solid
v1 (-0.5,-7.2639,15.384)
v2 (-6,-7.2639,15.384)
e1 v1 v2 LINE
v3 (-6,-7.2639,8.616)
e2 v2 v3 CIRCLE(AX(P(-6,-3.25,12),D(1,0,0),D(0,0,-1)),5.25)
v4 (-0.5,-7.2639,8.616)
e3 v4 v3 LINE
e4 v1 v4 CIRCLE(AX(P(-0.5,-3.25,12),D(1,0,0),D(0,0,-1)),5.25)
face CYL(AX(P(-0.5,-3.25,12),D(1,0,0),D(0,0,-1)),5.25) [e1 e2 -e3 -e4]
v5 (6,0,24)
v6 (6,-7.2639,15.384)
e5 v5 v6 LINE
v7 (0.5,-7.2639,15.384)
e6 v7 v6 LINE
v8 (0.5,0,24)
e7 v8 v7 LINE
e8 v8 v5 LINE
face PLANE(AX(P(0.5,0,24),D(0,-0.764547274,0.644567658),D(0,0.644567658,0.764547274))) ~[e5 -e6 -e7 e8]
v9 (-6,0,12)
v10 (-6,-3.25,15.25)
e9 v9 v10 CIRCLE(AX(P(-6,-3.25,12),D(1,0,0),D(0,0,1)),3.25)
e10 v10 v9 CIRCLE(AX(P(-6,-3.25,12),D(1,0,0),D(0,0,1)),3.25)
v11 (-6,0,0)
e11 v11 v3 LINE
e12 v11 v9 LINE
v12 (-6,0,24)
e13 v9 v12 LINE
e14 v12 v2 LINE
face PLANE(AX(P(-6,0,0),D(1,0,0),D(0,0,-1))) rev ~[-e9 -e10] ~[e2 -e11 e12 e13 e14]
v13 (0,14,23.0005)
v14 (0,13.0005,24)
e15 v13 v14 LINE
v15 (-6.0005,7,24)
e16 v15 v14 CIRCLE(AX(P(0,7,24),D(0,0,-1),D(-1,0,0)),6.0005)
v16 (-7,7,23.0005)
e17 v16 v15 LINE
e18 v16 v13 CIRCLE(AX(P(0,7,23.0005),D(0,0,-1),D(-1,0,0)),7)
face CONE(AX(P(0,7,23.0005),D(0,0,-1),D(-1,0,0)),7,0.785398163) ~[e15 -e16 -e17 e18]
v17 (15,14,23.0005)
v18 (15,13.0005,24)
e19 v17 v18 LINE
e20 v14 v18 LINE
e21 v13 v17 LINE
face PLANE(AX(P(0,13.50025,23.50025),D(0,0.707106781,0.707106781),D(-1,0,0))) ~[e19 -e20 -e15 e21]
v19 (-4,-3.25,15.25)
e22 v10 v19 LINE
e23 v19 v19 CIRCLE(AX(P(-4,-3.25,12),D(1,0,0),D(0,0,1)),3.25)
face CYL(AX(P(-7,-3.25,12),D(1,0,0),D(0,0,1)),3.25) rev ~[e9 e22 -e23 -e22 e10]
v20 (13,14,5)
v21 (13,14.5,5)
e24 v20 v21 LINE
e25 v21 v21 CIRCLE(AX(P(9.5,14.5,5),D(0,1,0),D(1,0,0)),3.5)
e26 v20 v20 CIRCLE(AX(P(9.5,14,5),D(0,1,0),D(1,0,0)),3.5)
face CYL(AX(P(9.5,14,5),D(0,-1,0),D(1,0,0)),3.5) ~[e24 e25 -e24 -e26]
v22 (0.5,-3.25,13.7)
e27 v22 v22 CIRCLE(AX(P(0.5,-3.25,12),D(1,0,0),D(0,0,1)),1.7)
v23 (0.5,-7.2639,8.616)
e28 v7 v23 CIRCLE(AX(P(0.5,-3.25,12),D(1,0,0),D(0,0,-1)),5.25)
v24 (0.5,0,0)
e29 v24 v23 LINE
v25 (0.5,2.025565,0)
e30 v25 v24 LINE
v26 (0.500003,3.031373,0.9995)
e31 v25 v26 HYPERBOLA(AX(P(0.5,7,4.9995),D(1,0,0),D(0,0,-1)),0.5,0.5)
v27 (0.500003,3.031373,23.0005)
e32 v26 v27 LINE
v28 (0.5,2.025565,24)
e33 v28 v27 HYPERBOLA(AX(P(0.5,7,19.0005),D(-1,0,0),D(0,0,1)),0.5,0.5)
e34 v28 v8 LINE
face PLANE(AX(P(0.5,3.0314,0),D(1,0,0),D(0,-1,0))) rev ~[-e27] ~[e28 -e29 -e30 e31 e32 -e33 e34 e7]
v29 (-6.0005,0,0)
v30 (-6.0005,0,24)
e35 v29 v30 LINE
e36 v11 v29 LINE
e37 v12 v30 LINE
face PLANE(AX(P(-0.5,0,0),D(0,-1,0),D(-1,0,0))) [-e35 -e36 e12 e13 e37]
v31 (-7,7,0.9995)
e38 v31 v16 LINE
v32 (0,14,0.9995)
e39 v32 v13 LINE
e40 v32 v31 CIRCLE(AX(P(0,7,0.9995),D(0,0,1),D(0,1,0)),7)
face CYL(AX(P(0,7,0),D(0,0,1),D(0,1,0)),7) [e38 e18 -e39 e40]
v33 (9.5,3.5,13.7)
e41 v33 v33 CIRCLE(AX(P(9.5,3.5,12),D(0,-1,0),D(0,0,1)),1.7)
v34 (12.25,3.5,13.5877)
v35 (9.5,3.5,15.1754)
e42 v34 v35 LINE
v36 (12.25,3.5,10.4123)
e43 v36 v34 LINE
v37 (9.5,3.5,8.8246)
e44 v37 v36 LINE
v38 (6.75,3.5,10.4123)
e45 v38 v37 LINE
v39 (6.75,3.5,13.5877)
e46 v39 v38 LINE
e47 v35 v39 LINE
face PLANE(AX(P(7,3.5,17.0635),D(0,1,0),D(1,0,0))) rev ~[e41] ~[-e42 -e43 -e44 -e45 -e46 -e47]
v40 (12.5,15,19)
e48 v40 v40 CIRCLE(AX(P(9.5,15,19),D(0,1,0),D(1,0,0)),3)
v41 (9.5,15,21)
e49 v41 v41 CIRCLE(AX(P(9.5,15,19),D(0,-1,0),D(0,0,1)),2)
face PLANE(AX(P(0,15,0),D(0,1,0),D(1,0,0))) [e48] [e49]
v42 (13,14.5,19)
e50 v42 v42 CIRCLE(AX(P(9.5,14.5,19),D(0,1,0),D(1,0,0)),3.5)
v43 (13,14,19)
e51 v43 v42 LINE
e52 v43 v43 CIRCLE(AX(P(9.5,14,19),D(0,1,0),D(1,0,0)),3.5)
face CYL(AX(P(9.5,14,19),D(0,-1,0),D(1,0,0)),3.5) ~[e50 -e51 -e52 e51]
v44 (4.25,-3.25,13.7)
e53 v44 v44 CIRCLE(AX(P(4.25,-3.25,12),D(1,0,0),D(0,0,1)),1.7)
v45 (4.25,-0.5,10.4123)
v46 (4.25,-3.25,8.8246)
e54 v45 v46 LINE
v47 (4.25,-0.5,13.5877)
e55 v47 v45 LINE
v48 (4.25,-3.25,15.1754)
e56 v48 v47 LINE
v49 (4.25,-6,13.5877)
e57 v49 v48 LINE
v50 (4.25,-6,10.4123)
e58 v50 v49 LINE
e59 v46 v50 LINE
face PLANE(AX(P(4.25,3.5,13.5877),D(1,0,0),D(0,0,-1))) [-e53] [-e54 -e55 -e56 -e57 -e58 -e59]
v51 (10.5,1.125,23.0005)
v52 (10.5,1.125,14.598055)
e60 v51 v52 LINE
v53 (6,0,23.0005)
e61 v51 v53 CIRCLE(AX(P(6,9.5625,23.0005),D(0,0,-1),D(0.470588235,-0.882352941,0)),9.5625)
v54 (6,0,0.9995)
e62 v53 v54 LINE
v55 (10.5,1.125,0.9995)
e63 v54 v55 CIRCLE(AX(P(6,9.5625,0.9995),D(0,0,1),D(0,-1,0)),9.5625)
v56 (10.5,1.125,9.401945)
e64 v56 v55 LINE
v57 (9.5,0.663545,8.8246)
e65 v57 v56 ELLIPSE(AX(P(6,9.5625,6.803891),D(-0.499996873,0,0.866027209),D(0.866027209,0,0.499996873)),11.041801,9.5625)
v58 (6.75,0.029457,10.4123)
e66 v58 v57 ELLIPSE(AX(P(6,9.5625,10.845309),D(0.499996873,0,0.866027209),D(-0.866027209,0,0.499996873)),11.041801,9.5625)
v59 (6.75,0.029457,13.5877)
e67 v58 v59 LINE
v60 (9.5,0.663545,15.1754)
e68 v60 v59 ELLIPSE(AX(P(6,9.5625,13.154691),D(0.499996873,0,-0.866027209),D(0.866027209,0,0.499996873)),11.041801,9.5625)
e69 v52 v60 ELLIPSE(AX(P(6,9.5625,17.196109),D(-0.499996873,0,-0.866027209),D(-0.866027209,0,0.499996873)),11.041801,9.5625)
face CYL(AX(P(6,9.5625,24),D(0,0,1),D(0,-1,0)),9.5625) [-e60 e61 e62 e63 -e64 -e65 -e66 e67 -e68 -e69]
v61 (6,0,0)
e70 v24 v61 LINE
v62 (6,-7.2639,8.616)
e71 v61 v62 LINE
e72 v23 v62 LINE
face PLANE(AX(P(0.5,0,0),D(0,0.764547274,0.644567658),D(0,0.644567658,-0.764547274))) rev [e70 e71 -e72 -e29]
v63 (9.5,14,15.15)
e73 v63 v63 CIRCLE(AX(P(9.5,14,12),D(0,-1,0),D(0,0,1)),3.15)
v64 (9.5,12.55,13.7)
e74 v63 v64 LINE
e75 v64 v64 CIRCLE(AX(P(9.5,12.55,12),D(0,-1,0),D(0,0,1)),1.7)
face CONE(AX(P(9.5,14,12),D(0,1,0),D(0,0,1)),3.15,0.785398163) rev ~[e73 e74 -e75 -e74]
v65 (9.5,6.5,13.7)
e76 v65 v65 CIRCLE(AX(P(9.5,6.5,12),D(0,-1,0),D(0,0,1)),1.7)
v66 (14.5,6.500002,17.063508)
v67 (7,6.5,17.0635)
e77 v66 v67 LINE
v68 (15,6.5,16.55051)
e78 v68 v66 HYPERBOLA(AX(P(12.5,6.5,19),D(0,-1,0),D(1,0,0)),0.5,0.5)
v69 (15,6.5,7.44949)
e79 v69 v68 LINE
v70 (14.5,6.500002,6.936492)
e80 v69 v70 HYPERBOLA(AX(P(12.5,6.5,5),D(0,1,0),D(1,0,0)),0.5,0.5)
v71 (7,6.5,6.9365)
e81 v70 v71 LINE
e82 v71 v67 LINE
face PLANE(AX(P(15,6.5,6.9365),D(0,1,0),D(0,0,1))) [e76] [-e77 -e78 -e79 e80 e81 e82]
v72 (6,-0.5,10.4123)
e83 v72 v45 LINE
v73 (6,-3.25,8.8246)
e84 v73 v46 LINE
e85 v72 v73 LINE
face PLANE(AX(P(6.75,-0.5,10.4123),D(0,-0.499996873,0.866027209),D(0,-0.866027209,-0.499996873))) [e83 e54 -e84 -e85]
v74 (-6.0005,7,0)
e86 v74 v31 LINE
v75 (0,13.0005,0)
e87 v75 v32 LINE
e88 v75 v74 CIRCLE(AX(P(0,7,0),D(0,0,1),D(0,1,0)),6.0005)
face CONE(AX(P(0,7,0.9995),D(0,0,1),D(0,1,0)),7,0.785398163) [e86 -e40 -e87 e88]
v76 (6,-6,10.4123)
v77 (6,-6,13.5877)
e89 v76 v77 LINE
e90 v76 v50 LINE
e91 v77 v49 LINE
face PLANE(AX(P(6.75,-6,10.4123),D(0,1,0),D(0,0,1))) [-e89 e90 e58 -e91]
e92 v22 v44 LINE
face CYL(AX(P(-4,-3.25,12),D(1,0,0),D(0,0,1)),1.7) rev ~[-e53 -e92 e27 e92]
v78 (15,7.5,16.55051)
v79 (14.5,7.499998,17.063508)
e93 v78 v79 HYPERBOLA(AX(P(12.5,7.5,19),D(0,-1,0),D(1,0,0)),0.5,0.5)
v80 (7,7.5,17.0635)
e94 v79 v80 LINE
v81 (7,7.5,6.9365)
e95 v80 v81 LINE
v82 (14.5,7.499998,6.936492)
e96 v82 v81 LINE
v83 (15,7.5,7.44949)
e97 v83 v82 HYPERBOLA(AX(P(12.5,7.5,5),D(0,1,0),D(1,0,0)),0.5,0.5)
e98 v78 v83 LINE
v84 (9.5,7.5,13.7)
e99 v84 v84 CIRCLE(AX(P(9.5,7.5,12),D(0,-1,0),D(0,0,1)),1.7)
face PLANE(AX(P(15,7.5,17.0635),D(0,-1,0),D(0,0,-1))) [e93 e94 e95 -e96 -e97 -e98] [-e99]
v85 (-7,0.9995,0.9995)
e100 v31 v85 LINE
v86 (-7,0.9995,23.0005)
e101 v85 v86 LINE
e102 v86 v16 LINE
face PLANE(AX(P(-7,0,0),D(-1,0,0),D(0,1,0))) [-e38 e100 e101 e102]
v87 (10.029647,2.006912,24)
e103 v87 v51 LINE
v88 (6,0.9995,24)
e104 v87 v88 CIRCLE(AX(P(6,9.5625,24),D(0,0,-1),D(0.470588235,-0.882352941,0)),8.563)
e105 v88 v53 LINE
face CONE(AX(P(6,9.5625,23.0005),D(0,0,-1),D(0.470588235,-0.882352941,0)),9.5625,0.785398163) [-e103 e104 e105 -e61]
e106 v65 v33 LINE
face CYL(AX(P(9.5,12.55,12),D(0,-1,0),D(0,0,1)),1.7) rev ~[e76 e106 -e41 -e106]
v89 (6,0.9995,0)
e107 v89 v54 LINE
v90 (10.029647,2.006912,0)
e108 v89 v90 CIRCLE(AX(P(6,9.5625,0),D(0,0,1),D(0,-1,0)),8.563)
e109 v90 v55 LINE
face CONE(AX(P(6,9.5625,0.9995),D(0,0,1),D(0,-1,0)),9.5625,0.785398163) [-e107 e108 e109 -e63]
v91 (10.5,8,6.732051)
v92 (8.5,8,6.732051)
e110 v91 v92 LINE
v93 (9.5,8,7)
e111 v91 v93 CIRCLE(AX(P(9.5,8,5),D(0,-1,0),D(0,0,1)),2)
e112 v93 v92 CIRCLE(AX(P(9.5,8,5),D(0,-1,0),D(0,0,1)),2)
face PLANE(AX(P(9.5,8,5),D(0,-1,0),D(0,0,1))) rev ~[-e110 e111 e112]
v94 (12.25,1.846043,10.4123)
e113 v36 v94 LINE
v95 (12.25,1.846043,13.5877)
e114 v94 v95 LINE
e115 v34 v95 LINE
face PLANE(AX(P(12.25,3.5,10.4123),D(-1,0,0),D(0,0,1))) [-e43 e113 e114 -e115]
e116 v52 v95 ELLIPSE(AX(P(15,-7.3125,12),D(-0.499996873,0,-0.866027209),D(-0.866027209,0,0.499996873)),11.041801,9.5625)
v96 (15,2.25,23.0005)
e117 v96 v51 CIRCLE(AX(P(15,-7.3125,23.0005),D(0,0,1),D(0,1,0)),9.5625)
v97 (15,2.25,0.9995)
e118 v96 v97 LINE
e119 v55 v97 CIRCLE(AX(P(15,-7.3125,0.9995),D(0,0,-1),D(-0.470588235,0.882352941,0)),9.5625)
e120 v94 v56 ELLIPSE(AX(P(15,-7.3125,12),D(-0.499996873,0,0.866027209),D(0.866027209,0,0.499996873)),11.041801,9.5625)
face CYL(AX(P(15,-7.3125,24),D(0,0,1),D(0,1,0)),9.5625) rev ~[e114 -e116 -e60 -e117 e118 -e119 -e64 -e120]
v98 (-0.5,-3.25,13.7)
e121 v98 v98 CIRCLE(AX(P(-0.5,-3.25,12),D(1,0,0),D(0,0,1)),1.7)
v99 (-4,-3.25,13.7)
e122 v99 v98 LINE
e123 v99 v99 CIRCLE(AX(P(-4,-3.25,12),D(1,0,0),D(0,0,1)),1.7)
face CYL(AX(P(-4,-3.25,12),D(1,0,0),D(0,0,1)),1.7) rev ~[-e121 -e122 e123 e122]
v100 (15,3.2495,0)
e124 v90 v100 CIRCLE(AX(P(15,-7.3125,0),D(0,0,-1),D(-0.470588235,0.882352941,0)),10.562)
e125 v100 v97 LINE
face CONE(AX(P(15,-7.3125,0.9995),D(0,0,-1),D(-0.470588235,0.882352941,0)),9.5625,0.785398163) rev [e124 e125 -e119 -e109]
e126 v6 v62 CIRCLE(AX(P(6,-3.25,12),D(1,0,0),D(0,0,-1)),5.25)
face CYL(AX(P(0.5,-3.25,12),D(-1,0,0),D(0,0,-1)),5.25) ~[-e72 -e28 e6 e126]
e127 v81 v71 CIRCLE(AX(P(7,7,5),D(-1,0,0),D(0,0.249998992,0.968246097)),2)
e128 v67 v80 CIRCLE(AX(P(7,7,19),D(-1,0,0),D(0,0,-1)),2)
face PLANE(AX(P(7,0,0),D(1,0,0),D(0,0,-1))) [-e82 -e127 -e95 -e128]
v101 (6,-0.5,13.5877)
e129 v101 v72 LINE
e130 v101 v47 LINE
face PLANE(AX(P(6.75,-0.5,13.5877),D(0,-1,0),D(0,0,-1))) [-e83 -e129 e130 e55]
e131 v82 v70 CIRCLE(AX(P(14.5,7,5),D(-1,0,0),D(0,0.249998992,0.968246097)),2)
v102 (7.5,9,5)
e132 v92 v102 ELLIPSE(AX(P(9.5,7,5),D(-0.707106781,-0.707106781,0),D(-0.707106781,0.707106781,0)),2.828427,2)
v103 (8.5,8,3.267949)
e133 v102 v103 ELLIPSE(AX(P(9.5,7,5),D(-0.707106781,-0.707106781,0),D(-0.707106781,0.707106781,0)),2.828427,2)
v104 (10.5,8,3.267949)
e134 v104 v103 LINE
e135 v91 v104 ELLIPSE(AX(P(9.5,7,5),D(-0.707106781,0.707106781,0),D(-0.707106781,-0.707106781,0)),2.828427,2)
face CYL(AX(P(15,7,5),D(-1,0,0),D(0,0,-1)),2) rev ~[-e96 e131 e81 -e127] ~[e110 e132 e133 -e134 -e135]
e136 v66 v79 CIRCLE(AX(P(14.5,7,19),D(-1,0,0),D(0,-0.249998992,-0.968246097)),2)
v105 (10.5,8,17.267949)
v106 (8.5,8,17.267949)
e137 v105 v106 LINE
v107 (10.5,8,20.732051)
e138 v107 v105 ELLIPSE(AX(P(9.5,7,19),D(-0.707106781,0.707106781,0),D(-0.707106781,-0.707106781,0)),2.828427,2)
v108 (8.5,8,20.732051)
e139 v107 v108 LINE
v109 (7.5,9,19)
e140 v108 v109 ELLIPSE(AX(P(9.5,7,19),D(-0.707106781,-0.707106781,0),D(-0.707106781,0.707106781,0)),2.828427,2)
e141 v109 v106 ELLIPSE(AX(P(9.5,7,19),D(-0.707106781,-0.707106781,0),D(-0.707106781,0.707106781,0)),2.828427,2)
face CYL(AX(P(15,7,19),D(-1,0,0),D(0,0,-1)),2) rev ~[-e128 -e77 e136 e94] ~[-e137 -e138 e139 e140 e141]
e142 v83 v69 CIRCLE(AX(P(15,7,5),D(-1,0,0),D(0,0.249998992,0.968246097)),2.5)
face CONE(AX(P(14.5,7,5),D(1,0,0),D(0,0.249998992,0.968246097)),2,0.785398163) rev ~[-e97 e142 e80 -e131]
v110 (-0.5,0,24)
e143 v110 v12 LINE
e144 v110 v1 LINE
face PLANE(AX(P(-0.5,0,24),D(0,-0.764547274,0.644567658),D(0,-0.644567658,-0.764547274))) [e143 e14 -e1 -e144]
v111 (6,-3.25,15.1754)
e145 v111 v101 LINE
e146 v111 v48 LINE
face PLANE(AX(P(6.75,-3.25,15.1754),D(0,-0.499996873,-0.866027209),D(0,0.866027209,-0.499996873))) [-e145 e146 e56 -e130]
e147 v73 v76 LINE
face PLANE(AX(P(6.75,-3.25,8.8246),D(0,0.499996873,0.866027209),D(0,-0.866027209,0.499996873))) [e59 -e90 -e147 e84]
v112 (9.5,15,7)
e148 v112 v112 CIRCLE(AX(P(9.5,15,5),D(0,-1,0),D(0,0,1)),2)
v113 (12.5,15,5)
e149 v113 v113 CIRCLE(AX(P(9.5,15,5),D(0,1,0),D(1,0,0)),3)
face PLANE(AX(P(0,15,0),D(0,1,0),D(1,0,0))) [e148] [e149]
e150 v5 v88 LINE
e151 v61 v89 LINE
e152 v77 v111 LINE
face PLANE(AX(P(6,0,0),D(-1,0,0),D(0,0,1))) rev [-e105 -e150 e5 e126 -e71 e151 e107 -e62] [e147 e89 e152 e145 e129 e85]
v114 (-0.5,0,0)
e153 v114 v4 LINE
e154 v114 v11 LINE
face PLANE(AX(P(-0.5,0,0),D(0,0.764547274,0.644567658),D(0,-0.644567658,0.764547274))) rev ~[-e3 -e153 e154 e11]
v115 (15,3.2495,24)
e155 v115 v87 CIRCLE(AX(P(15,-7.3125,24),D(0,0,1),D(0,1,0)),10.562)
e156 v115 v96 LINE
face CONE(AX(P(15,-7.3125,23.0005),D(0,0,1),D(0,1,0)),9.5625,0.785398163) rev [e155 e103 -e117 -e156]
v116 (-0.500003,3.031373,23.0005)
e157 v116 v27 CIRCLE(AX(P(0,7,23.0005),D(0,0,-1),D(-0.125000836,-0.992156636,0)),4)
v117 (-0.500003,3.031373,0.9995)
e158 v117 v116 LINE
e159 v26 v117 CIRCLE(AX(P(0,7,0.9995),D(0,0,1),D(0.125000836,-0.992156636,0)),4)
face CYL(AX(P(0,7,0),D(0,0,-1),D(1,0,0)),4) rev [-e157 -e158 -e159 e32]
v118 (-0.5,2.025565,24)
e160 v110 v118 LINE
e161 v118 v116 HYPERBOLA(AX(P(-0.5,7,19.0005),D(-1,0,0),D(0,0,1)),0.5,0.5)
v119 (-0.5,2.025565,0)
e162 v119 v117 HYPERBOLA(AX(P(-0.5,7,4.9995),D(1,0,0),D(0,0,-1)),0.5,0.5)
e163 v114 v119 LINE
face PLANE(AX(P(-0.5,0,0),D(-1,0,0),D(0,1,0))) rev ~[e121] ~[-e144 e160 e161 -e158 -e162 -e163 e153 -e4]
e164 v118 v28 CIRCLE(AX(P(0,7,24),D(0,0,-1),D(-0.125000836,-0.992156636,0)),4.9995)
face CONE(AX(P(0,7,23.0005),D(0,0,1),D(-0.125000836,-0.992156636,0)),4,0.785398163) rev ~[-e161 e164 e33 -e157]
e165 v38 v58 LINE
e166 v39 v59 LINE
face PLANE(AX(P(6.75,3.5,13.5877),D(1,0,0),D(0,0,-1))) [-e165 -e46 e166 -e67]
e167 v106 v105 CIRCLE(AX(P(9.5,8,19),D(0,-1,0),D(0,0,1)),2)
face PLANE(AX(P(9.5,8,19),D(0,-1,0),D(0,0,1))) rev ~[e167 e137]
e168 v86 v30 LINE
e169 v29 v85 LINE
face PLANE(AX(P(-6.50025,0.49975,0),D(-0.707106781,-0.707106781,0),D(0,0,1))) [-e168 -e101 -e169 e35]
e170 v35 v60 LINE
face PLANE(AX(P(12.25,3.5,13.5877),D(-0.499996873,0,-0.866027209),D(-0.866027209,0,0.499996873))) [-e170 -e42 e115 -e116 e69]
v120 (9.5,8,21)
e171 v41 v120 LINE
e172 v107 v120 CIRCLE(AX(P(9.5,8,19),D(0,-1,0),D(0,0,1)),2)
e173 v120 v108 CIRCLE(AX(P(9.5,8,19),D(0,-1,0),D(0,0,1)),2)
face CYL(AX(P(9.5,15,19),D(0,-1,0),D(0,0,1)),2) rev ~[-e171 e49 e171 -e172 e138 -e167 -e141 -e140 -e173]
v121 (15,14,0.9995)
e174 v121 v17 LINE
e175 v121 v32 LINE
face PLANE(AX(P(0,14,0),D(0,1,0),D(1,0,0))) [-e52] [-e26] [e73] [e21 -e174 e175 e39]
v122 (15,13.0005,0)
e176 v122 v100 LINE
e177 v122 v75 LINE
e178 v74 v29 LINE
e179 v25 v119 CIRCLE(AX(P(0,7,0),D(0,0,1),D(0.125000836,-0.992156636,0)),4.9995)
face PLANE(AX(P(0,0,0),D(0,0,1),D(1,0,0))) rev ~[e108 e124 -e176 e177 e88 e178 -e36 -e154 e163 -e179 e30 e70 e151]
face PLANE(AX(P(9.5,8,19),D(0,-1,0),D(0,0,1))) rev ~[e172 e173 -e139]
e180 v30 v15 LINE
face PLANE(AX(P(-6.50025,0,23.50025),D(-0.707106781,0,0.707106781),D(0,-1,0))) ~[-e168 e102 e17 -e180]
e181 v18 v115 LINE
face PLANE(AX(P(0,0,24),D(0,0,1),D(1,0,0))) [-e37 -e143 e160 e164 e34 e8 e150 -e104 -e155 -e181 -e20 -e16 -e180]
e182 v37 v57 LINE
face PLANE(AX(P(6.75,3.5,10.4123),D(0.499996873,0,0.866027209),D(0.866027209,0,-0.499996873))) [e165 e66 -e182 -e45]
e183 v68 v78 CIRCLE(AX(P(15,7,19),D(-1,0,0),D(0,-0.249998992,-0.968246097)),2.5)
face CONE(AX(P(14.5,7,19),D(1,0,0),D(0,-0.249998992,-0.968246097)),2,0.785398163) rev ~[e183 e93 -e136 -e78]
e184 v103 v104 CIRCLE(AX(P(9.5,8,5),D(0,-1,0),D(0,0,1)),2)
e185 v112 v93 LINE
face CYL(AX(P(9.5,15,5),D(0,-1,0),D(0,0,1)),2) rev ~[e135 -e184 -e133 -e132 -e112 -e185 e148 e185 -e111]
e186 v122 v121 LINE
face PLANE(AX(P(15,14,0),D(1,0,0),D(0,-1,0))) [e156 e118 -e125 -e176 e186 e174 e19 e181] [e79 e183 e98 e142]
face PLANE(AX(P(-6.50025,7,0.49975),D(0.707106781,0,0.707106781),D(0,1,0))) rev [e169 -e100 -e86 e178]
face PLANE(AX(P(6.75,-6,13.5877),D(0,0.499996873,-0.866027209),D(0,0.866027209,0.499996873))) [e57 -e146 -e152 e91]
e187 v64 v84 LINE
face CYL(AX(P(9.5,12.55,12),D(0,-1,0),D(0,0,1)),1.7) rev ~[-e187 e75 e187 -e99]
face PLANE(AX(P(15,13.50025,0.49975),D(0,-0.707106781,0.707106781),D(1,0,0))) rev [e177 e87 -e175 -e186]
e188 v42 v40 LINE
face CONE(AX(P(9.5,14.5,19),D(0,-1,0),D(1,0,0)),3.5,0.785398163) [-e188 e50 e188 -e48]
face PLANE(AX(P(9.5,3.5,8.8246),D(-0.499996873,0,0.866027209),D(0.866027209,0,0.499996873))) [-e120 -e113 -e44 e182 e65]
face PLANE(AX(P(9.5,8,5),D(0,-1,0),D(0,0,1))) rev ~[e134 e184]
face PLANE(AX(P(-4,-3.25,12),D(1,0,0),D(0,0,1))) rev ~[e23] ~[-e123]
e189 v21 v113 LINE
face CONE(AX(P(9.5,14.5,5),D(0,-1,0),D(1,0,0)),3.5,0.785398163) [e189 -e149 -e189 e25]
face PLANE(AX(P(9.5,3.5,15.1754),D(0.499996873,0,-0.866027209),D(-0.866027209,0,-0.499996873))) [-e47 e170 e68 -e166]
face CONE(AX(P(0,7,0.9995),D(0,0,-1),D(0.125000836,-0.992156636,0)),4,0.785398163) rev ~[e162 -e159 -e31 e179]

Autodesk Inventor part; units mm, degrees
ref_plane "YZ Plane" through (0, 0, 0) normal (1, 0, 0) x (0, 1, 0)
sketch "Sketch1" plane through (0, 0, 0) normal (0, 0, 1) x (1, 0, 0)
  line L0 (0, 14) -> (0, 11)
  line L1 (0, 14) -> (15, 14)
  line L2 (15, 14) -> (15, 0)
  circle A0 centre (0, 7) radius 4
  line L3 (0, 3) -> (0, 0) construction
  line L4 (0, 0) -> (15, 0)
  line L5 (0, 11) -> (0, 3) construction
  line L6 (0.5, 0) -> (-0.5, 0)
  line L7 (-0.5, 0) -> (-0.5, 3.0314)
  line L8 (-0.5, 3.0314) -> (0.5, 3.0314)
  line L9 (0.5, 3.0314) -> (0.5, 0)
  line L10 (-0.5, 0) -> (-7, 0)
  line L11 (-7, 0) -> (-7, 14)
  line L12 (-7, 14) -> (0, 14)
  line L13 (-4, 10.1012) -> (-4, 3.4286) construction
  point P0 (0, 3.0314)
  dimension "d0" = 8
  dimension "d1" = 15
  dimension "d2" = 14
  dimension "d79" = 1
  dimension "d80" = 3
  dimension "d81" = 3
extrude "Extrusion1" add sketch "Sketch1" along normal blind 24 contours L1 L2 L4 L9 A0 L0 | L0 A0 L7 L10 L11 L12
sketch "Sketch2" plane through (15, 0, 0) normal (1, 0, 0) x (0, 0, -1)
  line L0 (-24, 0) -> (-24, 14) projected
  line L1 (0, 0) -> (0, 14) projected
  point P0 (-19, 7)
  point P1 (-5, 7)
  point P2 (-24, 7)
  dimension "d5" = 5
  dimension "d6" = 5
  dimension "d7" = 14
hole "Hole1" at (15, 7, 19) at (15, 7, 5) direction (-1, 0, 0) diameter 4 depth 8
sketch "Sketch4" plane through (0, 14, 0) normal (0, 1, 0) x (1, 0, 0)
  circle A0 centre (9.5, -5) radius 3.5
  circle A1 centre (9.5, -19) radius 3.5
  line L0 (15, -24) -> (-7, -24) projected
  line L1 (15, 0) -> (0, 0) projected
  line L2 (-0.5, 0) -> (0.5, 0) projected
  line L3 (-0.5, -24) -> (0.5, -24) projected
  line L4 (4, -24) -> (4, 0) projected
  line L5 (4, -24) -> (4, 0)
  line L6 (4, -24) -> (4, 0) projected
  line L7 (15, 0) -> (15, -24) projected
  line L8 (0.5, 0) -> (0.5, -24) projected
  line L9 (-0.5, 0) -> (-0.5, -24) projected
  point P0 (4, -24)
  point P1 (0, -24)
  dimension "d18" = 7
  dimension "d19" = 7
  dimension "d20" = 14
  dimension "d21" = 5
  dimension "d22" = 5
  dimension "d42" = 5.5
  dimension "d43" = 5.5
extrude "Extrusion2" add sketch "Sketch4" along normal blind 1 contours A0 | A1
sketch "Sketch3" plane through (2, 15, 0) normal (0, 1, 0) x (1, 0, 0)
  circle A0 centre (7.5, -5) radius 3.5 projected
  circle A1 centre (7.5, -19) radius 3.5 projected
hole "Hole2" at (9.5, 15, 19) at (9.5, 15, 5) direction (0, -1, 0) diameter 4 depth 7
sketch "Sketch5" plane through (15, 0, 0) normal (1, 0, 0) x (0, 0, -1)
  line L0 (-17.0635, 7.5) -> (-6.9365, 7.5)
  line L1 (-6.9365, 7.5) -> (-6.9365, 6.5)
  line L2 (-6.9365, 6.5) -> (-17.0635, 6.5)
  line L3 (-17.0635, 6.5) -> (-17.0635, 7.5)
  circle A0 centre (-5, 7) radius 2 projected
  circle A1 centre (-19, 7) radius 2 projected
  point P0 (0, 0)
  point P1 (-6.9365, 7)
  point P2 (-17.0635, 6.5)
  dimension "d35" = 1
extrude "Extrusion3" cut sketch "Sketch5" against normal blind 8 contours L0 A0 L2 A1
sketch "Sketch7" plane through (0, 14, 0) normal (0, 1, 0) x (1, 0, 0)
  circle A0 centre (9.5, -5) radius 2 projected
  circle A1 centre (9.5, -19) radius 2 projected
  point P0 (0, 0)
  point P1 (9.5, -12)
  dimension "d44" = 7
  dimension "d45" = 7
hole "Hole3" at (9.5, 14, 12) direction (0, -1, 0) diameter 3.4 end through all countersink diameter 6.3 countersink angle 90 clearance for "Flat Head Machine Screw" size "M3" standard "Ansi Metric M Profile"
chamfer "Chamfer3" distance 0.5 angle 45 2 edges at (15, 7, 21) (15, 7, 3)
ref_plane "Work Plane1" through (7, 3.5, 17.0635) normal (0, 1, 0) x (1, 0, 0)
sketch "Sketch10" plane through (7, 3.5, 17.0635) normal (0, 1, 0) x (1, 0, 0)
  circle A0 centre (2.5, 5.0635) radius 1.7 projected
  line L0 (-0.25, 3.4758) -> (-0.25, 6.6512)
  line L1 (-0.25, 6.6512) -> (2.5, 8.2389)
  line L2 (2.5, 8.2389) -> (5.25, 6.6512)
  line L3 (5.25, 6.6512) -> (5.25, 3.4758)
  line L4 (5.25, 3.4758) -> (2.5, 1.8881)
  line L5 (2.5, 1.8881) -> (-0.25, 3.4758)
  point P0 (-7, 17.0635)
  dimension "d75" = 5.5
extrude "Extrusion6" cut sketch "Sketch10" against normal blind 10
sketch "Sketch12" plane through (-0.5, 0, 0) normal (1, 0, 0) x (0, 0, -1)
  circle A0 centre (-12, -3.25) radius 1.7
  circle A1 centre (-12, -3.25) radius 5.25
  line L0 (0, 0) -> (-8.616, -7.2639)
  line L1 (-24, 0) -> (-15.384, -7.2639)
  circle A2 centre (-12, -3.25) radius 3.25
  line L2 (0, 0) -> (-24, 0) projected
  point P0 (-12, 0)
  dimension "d82" = 3.4
  dimension "d84" = 2
  dimension "d95" = 6.5
extrude "Extrusion7" add sketch "Sketch12" against normal blind 5.5 contours A0 | A2 | A1 L2 | L1 L2 A1 | A1 L2 L0 picked at (-14.5812, -7.0055)
ref_plane "Work Plane3" through (0, 3.0314, 24) normal (1, 0, 0) x (0, 0, -1)
mirror "Mirror1" about plane through (0, 3.0314, 24) normal (1, 0, 0) of "Extrusion7"
fillet "Fillet1" radius 7 1 edges at (-7, 14, 12)
sketch "Sketch14" plane through (6.75, 3.5, 13.5877) normal (1, 0, 0) x (0, 0, -1)
  arc A0 (-1.7963, -10.7639) -> (4.9717, -10.7639) centre (1.5877, -6.75) ccw projected
  line L0 (0, -9.5) -> (-1.5877, -6.75)
  line L1 (-1.5877, -6.75) -> (0, -4)
  line L2 (0, -4) -> (3.1754, -4)
  line L3 (3.1754, -4) -> (4.7631, -6.75)
  line L4 (4.7631, -6.75) -> (3.1754, -9.5)
  line L5 (3.1754, -9.5) -> (0, -9.5)
  point P0 (13.5877, -3.5)
  dimension "d96" = 5.5
extrude "Extrusion8" cut sketch "Sketch14" against normal blind 2.5
sketch "Sketch13" plane through (-7, 0, 0) normal (-1, 0, 0) x (0, 0, 1)
  arc A0 (8.616, -7.2639) -> (15.384, -7.2639) centre (12, -3.25) ccw projected
  point P0 (0, 0)
hole "Hole4" at (-7, -3.25, 12) direction (1, 0, 0) diameter 3.4 end through all counterbore diameter 6.5 counterbore depth 3 clearance for "Socket Head Cap Screw" size "M3" standard "Ansi Metric M Profile"
sketch "Sketch15" plane through (0, 0, 24) normal (0, 0, 1) x (1, 0, 0)
  line L0 (6, 0) -> (15, 0) projected
  line L1 (15, 0) -> (15, 14) projected
  line L2 (14.5, 9) -> (14.5, 5) projected
  line L3 (15, 4.5) -> (15, 9.5) projected
  line L4 (6, 0) -> (15, 0) projected
  arc A0 (6, 0) -> (10.5, 1.125) centre (6, 9.5625) ccw
  line L5 (15, 0) -> (15, 14) projected
  arc A1 (15, 2.25) -> (10.5, 1.125) centre (15, -7.3125) ccw
  line L6 (15, 4.5) -> (15, 9.5) projected
  line L7 (15, 4.5) -> (15, 0)
  line L8 (15, 2.25) -> (10.6581, 2.25) construction
  point P0 (0, 0)
  point P1 (14.5, 6.5)
  point P2 (14.5, 7.5)
  point P3 (15, 7.5)
  point P4 (15, 6.5)
  point P5 (15, 2.25)
extrude "Extrusion9" cut sketch "Sketch15" against normal blind 28.75
chamfer "Chamfer5" distance 1 angle 45 13 edges at (0, 11, 24) (0, 11, 0) (-4.9497, 11.9497, 0) (-7, 3.5, 0) (7.5, 14, 0) (7.5, 14, 24) (-4.9497, 11.9497, 24) (-7, 3.5, 24) (-7, 0, 12) (8.3192, 0.2855, 0) (12.6808, 1.9645, 0) (12.6808, 1.9645, 24) (8.3192, 0.2855, 24)
chamfer "Chamfer6" distance 0.5 angle 45 2 edges at (6, 15, 19) (6, 15, 5)
equation "\"d81\" = d80"
equation "\"d6\" = d5"
equation "\"d22\" = d21"
equation "\"d42\" = d43"
equation "\"d44\" = d45"
properties part number "XY Joiner"
